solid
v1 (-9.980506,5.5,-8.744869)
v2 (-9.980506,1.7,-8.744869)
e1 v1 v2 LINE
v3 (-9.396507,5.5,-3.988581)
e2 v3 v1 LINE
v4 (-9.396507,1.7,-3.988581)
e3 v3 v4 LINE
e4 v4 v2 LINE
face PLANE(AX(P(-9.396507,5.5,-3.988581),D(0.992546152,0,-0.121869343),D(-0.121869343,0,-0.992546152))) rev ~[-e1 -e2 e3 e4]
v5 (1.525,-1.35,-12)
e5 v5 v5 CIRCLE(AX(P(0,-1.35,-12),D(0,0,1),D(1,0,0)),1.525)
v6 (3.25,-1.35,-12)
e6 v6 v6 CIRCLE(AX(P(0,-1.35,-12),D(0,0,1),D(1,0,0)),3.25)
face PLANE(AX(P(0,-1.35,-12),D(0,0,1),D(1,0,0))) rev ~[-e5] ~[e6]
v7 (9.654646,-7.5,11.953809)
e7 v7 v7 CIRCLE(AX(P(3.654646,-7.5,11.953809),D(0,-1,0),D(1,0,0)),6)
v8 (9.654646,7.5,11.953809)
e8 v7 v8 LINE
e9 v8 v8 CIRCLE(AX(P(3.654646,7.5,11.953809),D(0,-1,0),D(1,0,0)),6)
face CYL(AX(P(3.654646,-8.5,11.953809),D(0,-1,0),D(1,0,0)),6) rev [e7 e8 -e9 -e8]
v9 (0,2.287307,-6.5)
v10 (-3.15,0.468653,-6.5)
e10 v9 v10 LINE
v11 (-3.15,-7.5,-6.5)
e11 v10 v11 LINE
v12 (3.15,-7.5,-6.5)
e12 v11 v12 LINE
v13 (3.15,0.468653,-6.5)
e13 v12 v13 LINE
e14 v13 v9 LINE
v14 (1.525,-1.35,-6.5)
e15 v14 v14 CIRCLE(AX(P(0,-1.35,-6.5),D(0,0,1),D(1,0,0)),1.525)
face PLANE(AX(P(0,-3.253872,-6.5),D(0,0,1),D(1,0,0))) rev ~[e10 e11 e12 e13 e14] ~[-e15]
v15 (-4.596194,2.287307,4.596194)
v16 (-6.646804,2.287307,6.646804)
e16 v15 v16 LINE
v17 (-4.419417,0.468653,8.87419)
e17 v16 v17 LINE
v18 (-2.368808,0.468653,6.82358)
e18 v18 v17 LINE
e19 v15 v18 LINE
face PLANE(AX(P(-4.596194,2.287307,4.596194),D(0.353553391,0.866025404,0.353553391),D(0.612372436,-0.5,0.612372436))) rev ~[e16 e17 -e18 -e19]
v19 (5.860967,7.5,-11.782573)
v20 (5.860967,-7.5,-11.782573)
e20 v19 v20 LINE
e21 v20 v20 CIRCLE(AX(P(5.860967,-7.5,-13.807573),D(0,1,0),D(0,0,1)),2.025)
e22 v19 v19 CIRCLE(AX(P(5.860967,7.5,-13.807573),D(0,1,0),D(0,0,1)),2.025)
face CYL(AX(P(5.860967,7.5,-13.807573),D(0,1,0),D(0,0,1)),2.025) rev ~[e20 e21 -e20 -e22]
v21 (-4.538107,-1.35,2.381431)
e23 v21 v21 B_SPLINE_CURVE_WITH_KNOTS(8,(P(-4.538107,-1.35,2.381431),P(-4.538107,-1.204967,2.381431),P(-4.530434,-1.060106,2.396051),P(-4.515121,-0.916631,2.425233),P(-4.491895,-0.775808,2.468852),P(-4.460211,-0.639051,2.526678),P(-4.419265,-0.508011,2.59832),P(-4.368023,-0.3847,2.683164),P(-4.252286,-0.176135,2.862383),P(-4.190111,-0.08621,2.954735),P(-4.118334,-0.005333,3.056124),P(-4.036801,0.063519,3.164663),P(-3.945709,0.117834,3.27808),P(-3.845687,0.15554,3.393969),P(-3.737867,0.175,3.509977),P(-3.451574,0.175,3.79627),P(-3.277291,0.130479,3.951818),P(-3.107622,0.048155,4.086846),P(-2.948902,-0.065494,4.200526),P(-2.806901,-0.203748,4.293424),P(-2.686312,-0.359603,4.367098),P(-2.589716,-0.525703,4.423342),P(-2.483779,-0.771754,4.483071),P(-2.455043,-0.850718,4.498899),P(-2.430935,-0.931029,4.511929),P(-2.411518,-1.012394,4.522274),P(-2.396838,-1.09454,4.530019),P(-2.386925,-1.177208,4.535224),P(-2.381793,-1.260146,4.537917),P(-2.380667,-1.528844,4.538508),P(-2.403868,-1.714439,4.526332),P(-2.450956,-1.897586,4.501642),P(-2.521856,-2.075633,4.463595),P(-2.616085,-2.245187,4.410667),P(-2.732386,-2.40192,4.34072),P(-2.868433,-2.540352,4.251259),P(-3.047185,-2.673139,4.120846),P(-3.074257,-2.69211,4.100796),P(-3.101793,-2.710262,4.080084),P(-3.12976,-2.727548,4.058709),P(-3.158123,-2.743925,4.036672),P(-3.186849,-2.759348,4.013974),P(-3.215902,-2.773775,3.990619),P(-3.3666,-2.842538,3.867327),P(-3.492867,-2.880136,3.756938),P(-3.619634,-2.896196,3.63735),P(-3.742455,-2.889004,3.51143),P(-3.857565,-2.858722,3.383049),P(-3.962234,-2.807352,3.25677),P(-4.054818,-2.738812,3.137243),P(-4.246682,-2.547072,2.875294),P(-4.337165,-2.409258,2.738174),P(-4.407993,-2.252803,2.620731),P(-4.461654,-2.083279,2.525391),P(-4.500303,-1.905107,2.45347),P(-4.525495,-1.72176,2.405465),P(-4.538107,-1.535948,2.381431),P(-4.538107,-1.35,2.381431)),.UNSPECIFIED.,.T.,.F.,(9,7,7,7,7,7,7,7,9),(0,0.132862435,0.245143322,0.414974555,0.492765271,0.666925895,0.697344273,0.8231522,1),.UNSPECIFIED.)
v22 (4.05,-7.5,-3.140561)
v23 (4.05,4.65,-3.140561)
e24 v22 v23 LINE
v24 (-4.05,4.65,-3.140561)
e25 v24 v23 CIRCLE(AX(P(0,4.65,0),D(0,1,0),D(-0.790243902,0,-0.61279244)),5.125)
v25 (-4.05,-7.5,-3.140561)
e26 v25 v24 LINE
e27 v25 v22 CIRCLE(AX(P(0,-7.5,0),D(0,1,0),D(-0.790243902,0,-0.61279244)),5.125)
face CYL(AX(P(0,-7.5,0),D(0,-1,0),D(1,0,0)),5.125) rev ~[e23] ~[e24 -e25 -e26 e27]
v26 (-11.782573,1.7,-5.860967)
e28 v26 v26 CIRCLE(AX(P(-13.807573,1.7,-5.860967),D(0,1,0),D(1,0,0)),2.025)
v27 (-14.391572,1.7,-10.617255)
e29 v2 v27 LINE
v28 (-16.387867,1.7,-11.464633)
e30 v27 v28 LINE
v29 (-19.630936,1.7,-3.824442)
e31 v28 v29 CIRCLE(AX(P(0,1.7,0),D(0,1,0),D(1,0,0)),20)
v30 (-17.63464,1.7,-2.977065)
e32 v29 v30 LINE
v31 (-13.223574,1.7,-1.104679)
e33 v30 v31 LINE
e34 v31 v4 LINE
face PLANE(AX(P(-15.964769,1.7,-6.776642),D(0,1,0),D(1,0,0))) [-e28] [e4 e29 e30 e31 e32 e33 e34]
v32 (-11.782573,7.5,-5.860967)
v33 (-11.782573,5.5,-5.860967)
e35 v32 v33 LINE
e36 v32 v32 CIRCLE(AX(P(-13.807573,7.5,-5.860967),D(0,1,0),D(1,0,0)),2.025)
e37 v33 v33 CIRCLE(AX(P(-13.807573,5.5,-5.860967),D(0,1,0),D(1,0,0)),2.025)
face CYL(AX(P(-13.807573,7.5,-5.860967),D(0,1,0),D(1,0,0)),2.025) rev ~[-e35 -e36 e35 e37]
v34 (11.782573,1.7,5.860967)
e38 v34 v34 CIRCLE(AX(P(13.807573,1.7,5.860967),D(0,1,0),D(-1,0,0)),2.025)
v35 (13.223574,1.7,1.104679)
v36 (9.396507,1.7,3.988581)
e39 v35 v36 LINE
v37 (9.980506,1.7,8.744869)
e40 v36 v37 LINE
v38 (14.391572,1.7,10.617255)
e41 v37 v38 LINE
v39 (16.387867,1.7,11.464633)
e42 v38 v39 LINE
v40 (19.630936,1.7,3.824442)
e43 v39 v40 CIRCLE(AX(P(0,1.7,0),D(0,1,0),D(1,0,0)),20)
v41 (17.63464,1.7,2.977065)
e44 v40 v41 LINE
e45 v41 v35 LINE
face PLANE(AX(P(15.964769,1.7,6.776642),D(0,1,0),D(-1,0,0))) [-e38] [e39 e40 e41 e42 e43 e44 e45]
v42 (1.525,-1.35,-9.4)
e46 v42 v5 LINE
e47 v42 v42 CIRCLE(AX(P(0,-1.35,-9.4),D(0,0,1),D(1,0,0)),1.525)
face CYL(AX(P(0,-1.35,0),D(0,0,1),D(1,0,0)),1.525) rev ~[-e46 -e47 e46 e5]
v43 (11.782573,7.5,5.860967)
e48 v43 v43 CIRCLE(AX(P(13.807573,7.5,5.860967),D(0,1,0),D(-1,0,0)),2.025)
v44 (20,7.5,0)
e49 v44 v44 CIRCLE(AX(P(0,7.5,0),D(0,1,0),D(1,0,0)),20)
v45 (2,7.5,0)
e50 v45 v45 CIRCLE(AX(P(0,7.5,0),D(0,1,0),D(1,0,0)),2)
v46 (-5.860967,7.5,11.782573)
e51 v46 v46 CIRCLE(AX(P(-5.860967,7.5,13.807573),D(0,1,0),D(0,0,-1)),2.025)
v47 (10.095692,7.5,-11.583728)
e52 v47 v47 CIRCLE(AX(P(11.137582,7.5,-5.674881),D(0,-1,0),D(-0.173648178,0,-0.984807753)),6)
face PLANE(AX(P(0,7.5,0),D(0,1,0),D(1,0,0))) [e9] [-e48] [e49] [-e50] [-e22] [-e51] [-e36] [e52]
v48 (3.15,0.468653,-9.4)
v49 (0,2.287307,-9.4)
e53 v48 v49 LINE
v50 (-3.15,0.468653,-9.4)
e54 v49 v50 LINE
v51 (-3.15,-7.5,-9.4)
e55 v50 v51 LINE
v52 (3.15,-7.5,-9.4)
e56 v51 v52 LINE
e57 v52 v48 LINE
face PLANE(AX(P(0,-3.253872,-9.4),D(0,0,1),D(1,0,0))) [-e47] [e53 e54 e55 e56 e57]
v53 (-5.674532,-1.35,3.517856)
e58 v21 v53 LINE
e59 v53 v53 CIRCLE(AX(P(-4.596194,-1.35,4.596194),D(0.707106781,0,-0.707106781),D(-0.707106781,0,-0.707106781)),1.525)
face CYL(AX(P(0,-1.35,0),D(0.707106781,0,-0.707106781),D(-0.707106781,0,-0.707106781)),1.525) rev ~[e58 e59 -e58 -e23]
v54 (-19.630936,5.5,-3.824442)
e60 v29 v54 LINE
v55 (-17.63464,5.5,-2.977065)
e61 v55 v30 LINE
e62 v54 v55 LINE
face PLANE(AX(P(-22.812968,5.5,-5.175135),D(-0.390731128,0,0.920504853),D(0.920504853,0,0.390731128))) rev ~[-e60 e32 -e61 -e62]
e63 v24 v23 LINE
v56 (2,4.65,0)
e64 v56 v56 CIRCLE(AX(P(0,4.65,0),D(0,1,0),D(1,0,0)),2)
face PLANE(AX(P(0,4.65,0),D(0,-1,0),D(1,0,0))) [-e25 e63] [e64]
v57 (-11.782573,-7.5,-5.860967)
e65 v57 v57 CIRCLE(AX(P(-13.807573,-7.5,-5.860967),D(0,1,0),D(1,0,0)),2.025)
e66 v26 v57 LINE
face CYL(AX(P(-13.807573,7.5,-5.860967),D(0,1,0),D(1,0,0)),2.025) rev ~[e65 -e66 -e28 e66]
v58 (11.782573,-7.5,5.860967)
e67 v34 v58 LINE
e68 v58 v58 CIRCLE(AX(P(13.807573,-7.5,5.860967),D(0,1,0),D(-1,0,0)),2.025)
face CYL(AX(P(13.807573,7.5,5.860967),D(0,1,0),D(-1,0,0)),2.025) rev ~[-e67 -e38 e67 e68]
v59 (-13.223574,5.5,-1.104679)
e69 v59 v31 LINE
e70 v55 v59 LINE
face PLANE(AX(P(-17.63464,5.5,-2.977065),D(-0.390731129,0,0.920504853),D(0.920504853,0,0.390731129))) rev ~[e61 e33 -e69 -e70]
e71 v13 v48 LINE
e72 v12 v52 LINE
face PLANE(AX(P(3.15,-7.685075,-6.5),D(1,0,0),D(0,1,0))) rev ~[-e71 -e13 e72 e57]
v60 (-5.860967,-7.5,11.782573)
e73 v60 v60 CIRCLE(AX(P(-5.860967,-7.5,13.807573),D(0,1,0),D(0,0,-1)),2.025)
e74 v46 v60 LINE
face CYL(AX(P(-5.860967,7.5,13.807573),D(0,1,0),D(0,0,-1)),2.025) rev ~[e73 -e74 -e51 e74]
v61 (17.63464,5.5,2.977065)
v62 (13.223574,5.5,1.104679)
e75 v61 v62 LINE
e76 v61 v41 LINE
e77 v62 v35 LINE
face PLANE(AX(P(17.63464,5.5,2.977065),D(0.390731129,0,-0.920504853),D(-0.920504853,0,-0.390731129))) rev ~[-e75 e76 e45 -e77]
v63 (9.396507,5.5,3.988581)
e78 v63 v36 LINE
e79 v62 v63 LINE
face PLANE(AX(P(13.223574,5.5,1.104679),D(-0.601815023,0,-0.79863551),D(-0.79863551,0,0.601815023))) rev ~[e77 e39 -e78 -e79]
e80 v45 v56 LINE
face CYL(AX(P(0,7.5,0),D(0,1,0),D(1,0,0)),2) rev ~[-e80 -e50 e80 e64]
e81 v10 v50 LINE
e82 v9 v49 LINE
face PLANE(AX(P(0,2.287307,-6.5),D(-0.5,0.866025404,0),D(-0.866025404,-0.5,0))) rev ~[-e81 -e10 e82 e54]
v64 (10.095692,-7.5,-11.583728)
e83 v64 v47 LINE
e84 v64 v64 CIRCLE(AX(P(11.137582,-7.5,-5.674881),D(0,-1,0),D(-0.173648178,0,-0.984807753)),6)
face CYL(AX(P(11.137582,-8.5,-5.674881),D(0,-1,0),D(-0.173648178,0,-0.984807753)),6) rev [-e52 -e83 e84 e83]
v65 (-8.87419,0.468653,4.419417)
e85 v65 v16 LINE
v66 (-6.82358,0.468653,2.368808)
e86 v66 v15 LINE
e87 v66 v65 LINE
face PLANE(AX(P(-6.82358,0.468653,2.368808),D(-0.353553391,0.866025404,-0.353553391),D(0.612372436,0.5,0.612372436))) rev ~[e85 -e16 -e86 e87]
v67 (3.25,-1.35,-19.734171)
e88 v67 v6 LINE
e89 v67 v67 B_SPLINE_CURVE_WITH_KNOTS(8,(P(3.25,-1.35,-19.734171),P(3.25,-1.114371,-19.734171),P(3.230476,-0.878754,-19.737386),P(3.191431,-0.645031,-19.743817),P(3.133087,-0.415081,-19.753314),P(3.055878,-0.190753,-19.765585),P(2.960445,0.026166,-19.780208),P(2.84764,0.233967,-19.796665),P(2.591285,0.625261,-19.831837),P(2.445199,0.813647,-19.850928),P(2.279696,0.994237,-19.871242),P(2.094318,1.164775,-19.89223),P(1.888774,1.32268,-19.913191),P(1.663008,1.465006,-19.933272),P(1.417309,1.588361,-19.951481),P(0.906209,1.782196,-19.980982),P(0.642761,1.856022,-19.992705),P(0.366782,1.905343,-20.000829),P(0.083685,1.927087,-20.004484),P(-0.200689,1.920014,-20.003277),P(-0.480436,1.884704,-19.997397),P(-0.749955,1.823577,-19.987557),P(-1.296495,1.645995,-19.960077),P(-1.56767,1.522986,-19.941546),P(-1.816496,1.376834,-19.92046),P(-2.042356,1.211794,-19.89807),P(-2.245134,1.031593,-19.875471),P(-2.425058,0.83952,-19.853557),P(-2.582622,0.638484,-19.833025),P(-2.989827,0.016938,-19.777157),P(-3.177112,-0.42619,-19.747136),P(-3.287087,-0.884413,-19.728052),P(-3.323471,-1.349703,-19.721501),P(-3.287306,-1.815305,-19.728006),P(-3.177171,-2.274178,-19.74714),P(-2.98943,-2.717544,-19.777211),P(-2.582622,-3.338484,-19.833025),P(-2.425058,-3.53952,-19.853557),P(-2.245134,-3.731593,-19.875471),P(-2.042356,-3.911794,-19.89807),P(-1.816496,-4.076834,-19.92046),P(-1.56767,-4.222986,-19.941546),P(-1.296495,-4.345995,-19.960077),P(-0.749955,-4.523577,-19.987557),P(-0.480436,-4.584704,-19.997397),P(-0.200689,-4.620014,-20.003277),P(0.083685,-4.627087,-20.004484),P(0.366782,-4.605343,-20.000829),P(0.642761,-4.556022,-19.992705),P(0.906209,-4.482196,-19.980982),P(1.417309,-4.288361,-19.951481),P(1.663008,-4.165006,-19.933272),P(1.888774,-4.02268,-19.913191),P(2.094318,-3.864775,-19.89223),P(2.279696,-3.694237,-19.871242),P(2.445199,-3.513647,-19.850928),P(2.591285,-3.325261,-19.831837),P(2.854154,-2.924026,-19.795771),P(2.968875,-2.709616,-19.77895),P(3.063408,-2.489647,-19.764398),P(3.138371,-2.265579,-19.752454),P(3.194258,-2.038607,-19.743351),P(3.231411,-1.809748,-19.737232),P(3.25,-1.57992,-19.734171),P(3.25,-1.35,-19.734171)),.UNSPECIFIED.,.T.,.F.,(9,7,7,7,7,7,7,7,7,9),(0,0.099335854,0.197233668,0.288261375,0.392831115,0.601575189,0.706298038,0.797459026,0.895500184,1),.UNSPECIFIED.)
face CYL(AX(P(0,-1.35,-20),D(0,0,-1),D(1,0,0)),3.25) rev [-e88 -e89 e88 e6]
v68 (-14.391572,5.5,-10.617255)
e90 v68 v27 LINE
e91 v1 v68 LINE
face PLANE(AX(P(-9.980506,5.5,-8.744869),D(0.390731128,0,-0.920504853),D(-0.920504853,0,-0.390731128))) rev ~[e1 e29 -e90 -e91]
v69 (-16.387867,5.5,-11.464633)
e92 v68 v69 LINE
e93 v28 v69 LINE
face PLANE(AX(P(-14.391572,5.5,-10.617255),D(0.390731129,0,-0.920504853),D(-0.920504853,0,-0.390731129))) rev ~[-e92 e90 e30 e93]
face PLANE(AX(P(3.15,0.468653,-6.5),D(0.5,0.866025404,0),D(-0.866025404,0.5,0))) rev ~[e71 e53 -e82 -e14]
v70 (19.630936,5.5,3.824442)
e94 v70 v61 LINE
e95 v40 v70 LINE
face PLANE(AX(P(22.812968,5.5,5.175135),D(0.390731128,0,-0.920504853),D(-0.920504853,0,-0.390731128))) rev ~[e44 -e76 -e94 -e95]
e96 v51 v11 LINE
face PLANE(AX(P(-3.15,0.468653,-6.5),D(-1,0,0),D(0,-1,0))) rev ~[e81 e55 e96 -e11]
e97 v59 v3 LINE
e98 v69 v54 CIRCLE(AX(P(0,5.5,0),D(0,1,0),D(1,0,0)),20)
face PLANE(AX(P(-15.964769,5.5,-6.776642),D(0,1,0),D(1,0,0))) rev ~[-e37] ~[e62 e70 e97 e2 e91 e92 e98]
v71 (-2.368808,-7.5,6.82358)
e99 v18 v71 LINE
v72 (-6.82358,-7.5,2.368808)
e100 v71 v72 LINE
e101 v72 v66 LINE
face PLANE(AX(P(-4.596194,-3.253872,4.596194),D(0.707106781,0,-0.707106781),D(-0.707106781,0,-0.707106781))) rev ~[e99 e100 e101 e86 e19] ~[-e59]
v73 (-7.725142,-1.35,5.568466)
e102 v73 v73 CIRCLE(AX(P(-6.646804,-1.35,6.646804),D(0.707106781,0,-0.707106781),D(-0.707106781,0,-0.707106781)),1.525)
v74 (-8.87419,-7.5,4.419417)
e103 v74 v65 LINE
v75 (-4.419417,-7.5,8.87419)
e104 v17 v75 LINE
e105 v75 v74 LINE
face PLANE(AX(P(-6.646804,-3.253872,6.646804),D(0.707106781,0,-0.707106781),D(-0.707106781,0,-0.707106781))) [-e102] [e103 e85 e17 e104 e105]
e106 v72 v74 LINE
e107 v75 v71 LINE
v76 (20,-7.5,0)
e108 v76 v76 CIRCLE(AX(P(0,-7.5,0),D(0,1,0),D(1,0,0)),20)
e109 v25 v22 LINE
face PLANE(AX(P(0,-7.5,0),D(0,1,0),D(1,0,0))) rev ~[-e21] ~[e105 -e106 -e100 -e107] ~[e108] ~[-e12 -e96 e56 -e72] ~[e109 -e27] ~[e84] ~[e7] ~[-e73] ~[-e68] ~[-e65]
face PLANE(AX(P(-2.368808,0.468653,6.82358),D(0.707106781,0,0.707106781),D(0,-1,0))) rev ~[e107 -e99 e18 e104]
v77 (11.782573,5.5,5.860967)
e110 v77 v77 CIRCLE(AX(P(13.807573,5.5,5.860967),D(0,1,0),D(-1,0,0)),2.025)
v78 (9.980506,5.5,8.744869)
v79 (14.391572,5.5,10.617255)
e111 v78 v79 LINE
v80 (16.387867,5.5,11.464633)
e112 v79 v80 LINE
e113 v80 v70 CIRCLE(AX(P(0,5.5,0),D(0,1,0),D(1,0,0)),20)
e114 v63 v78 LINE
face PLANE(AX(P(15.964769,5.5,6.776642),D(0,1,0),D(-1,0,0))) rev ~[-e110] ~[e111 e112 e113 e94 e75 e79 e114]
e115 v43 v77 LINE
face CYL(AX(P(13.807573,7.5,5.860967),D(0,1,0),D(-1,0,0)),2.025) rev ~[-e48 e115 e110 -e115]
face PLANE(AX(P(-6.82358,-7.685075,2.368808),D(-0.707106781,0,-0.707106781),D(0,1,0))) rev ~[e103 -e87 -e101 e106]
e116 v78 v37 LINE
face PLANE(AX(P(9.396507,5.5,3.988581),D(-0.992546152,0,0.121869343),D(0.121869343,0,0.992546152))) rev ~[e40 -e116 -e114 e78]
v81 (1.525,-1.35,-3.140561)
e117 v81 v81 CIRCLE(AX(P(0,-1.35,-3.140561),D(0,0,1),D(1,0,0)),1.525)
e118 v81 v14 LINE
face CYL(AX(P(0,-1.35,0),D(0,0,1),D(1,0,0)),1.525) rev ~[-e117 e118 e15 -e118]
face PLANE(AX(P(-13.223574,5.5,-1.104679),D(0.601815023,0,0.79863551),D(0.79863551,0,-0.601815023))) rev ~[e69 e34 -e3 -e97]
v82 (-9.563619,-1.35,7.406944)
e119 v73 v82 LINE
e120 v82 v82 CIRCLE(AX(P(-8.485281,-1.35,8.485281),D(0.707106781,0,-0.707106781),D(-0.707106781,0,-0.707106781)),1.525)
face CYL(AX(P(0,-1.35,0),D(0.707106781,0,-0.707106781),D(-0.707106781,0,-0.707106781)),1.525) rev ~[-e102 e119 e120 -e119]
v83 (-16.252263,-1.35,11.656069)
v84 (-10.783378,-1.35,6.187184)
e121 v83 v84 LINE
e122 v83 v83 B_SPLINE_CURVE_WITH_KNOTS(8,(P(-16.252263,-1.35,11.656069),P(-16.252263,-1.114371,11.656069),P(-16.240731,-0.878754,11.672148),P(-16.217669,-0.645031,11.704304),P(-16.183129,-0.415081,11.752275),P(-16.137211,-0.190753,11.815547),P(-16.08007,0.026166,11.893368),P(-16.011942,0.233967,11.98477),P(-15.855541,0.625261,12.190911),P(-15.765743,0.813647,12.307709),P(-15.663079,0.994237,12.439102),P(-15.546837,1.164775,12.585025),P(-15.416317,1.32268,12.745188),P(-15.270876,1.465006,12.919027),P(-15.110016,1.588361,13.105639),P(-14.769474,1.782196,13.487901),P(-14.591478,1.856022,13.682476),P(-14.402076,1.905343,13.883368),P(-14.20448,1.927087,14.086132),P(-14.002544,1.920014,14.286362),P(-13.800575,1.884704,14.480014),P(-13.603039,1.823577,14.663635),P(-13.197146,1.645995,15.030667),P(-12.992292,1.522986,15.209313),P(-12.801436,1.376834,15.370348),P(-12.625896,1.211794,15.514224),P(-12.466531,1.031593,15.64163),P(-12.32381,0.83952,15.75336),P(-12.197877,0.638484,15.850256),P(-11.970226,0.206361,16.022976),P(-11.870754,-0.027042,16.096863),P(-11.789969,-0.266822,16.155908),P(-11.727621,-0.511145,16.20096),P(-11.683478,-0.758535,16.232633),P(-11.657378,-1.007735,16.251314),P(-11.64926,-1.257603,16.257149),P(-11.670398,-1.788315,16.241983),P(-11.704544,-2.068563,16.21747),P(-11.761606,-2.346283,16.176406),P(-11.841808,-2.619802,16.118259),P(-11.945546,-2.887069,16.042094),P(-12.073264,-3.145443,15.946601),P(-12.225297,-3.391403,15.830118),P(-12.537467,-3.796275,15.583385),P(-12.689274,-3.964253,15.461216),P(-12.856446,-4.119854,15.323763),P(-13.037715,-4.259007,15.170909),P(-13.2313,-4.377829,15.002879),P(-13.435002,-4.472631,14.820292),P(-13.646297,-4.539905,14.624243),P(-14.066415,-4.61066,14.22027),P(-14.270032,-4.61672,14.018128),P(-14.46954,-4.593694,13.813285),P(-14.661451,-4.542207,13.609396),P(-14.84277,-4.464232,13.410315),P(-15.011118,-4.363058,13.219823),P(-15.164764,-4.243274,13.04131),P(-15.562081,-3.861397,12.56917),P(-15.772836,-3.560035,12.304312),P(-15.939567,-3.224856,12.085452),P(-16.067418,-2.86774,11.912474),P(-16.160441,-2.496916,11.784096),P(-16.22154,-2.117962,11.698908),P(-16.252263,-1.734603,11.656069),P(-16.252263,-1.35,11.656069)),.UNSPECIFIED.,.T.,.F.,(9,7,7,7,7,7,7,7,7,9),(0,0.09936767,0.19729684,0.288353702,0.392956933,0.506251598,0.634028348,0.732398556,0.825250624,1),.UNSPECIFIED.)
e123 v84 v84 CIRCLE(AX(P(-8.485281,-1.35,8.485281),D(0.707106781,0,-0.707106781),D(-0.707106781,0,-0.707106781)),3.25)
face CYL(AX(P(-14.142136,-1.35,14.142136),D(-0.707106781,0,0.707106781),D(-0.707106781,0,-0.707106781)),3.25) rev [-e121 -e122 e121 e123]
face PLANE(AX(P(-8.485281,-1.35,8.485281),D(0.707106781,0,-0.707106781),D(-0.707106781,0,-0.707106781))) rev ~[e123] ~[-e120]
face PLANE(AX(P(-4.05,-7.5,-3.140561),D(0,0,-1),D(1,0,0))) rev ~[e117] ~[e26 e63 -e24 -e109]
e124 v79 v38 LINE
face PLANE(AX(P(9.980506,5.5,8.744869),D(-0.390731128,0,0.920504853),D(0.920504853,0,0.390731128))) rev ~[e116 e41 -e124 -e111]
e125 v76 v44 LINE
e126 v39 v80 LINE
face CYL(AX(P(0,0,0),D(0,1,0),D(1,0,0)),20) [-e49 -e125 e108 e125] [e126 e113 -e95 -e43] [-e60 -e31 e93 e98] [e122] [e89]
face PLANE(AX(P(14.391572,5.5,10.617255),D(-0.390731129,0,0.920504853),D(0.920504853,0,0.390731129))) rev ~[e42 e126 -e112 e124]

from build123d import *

# Parameters (mm, degrees)
SKETCH1_R               = 20
BOSS_EXTRUDE1_DEPTH     = 7.5
SKETCH4_R               = 5.125
CUT_EXTRUDE2_DEPTH      = 12.15
SKETCH5_R               = 2
CUT_EXTRUDE3_DEPTH      = 1
CUT_EXTRUDE3_DEPTH_BACK = 16
SKETCH15_W              = 8.1
SKETCH15_H              = 1.984438744
BOSS_EXTRUDE3_DEPTH     = 12.15
SKETCH2_R               = 2.025
CUT_EXTRUDE1_DEPTH      = 16
CIRPATTERN1_COUNT       = 4
SKETCH6_R               = 1.525
CUT_EXTRUDE4_DEPTH      = 21
CUT_EXTRUDE5_START      = -20
SKETCH7_R               = 3.25
CUT_EXTRUDE5_DEPTH      = 8
CUT_EXTRUDE11_START     = -6.5
CUT_EXTRUDE11_DEPTH     = 2.9
CIRPATTERN2_COUNT       = 2
CIRPATTERN2_ANGLE       = 135
CUT_EXTRUDE7_START      = 5.5
CUT_EXTRUDE7_DEPTH      = 3.8
CIRPATTERN3_COUNT       = 2
CUT_EXTRUDE12_START     = -16.0000001
SKETCH10_R              = 6
CUT_EXTRUDE12_DEPTH     = 17.0000002
CIRPATTERN4_COUNT       = 2
CIRPATTERN4_ANGLE       = 100


with BuildPart() as part:
    # Sketch1 → Boss-Extrude1 (new body, symmetric)
    with BuildSketch(Plane(origin=(0, 0, 0), x_dir=(1, 0, 0), z_dir=(0, 1, 0))):
        Circle(SKETCH1_R)
    extrude(amount=BOSS_EXTRUDE1_DEPTH, both=True)

    # Sketch4 → Cut-Extrude2 (cut)
    with BuildSketch(Plane.XZ.offset(7.5)):
        Circle(SKETCH4_R)
    extrude(amount=-CUT_EXTRUDE2_DEPTH, mode=Mode.SUBTRACT)

    # Sketch5 → Cut-Extrude3 (cut, two sides)
    with BuildSketch(Plane(origin=(0, 7.5, 0), x_dir=(1, 0, 0), z_dir=(0, 1, 0))) as cut_extrude3_sk:
        Circle(SKETCH5_R)
    extrude(amount=CUT_EXTRUDE3_DEPTH, mode=Mode.SUBTRACT)
    extrude(cut_extrude3_sk.sketch, amount=-CUT_EXTRUDE3_DEPTH_BACK, mode=Mode.SUBTRACT)

    # Sketch15 → Boss-Extrude3 (add)
    with BuildSketch(Plane.XZ.offset(7.5)):
        with Locations((0, -4.132780628)):
            Rectangle(SKETCH15_W, SKETCH15_H)
    extrude(amount=-BOSS_EXTRUDE3_DEPTH)

    # Sketch2 → Cut-Extrude1 (cut, through all)
    with BuildSketch(Plane(origin=(0, 7.5, 0), x_dir=(1, 0, 0), z_dir=(0, 1, 0))):
        with Locations((-13.807572802, 5.860966927)):
            Circle(SKETCH2_R)
    cut_extrude1 = extrude(amount=-CUT_EXTRUDE1_DEPTH, mode=Mode.SUBTRACT)

    # CirPattern1: Cut-Extrude1 ×4 about axis
    cirpattern1_axis = Axis((0, 0, 0), (0, 1, 0))
    for i in range(1, CIRPATTERN1_COUNT):
        add(cut_extrude1.rotate(cirpattern1_axis, i * 360 / CIRPATTERN1_COUNT), mode=Mode.SUBTRACT)

    # Sketch6 → Cut-Extrude4 (cut, through all)
    with BuildSketch(Plane.XY):
        with Locations((0, -1.35)):
            Circle(SKETCH6_R)
    cut_extrude4 = extrude(amount=-CUT_EXTRUDE4_DEPTH, mode=Mode.SUBTRACT)

    # Sketch7 → Cut-Extrude5 (cut)
    with BuildSketch(Plane.XY.offset(CUT_EXTRUDE5_START)):
        with Locations((0, -1.35)):
            Circle(SKETCH7_R)
    cut_extrude5 = extrude(amount=CUT_EXTRUDE5_DEPTH, mode=Mode.SUBTRACT)

    # Sketch9 → Cut-Extrude11 (cut)
    with BuildSketch(Plane.XY.offset(CUT_EXTRUDE11_START)):
        Polygon((3.15, -3.168653348), (3.15, 0.468653348), (0, 2.287306696), (-3.15, 0.468653348), (-3.15, -3.168653348), (-3.15, -7.685074736), (3.15, -7.685074736), align=None)
    cut_extrude11 = extrude(amount=-CUT_EXTRUDE11_DEPTH, mode=Mode.SUBTRACT)

    # CirPattern2: Cut-Extrude4, Cut-Extrude5, Cut-Extrude11 ×2 about axis
    cirpattern2_axis = Axis((0, 0, 0), (0, 1, 0))
    for i in range(1, CIRPATTERN2_COUNT):
        add(cut_extrude4.rotate(cirpattern2_axis, i * CIRPATTERN2_ANGLE / (CIRPATTERN2_COUNT - 1)), mode=Mode.SUBTRACT)
        add(cut_extrude5.rotate(cirpattern2_axis, i * CIRPATTERN2_ANGLE / (CIRPATTERN2_COUNT - 1)), mode=Mode.SUBTRACT)
        add(cut_extrude11.rotate(cirpattern2_axis, i * CIRPATTERN2_ANGLE / (CIRPATTERN2_COUNT - 1)), mode=Mode.SUBTRACT)

    # Sketch8 → Cut-Extrude7 (cut)
    with BuildSketch(Plane(origin=(0, 0, 0), x_dir=(1, 0, 0), z_dir=(0, 1, 0)).offset(CUT_EXTRUDE7_START)):
        Polygon((-9.396506885, 3.988580533), (-9.98050566, 8.744868872), (-14.391571577, 10.617255266), (-19.569899143, 12.815324908), (-22.81296751, 5.175134625), (-17.634639943, 2.977064983), (-13.223574027, 1.104678588), align=None)
    cut_extrude7 = extrude(amount=-CUT_EXTRUDE7_DEPTH, mode=Mode.SUBTRACT)

    # CirPattern3: Cut-Extrude7 ×2 about axis
    cirpattern3_axis = Axis((0, 0, 0), (0, 1, 0))
    for i in range(1, CIRPATTERN3_COUNT):
        add(cut_extrude7.rotate(cirpattern3_axis, i * 360 / CIRPATTERN3_COUNT), mode=Mode.SUBTRACT)

    # Sketch10 → Cut-Extrude12 (cut)
    with BuildSketch(Plane(origin=(0, 7.5, 0), x_dir=(1, 0, 0), z_dir=(0, 1, 0)).offset(CUT_EXTRUDE12_START)):
        with Locations((3.654646309, -11.95380945)):
            Circle(SKETCH10_R)
    cut_extrude12 = extrude(amount=CUT_EXTRUDE12_DEPTH, mode=Mode.SUBTRACT)

    # CirPattern4: Cut-Extrude12 ×2 about axis
    cirpattern4_axis = Axis((0, 7.5, 0), (0, 1, 0))
    for i in range(1, CIRPATTERN4_COUNT):
        add(cut_extrude12.rotate(cirpattern4_axis, i * CIRPATTERN4_ANGLE / (CIRPATTERN4_COUNT - 1)), mode=Mode.SUBTRACT)


solid = part.part
